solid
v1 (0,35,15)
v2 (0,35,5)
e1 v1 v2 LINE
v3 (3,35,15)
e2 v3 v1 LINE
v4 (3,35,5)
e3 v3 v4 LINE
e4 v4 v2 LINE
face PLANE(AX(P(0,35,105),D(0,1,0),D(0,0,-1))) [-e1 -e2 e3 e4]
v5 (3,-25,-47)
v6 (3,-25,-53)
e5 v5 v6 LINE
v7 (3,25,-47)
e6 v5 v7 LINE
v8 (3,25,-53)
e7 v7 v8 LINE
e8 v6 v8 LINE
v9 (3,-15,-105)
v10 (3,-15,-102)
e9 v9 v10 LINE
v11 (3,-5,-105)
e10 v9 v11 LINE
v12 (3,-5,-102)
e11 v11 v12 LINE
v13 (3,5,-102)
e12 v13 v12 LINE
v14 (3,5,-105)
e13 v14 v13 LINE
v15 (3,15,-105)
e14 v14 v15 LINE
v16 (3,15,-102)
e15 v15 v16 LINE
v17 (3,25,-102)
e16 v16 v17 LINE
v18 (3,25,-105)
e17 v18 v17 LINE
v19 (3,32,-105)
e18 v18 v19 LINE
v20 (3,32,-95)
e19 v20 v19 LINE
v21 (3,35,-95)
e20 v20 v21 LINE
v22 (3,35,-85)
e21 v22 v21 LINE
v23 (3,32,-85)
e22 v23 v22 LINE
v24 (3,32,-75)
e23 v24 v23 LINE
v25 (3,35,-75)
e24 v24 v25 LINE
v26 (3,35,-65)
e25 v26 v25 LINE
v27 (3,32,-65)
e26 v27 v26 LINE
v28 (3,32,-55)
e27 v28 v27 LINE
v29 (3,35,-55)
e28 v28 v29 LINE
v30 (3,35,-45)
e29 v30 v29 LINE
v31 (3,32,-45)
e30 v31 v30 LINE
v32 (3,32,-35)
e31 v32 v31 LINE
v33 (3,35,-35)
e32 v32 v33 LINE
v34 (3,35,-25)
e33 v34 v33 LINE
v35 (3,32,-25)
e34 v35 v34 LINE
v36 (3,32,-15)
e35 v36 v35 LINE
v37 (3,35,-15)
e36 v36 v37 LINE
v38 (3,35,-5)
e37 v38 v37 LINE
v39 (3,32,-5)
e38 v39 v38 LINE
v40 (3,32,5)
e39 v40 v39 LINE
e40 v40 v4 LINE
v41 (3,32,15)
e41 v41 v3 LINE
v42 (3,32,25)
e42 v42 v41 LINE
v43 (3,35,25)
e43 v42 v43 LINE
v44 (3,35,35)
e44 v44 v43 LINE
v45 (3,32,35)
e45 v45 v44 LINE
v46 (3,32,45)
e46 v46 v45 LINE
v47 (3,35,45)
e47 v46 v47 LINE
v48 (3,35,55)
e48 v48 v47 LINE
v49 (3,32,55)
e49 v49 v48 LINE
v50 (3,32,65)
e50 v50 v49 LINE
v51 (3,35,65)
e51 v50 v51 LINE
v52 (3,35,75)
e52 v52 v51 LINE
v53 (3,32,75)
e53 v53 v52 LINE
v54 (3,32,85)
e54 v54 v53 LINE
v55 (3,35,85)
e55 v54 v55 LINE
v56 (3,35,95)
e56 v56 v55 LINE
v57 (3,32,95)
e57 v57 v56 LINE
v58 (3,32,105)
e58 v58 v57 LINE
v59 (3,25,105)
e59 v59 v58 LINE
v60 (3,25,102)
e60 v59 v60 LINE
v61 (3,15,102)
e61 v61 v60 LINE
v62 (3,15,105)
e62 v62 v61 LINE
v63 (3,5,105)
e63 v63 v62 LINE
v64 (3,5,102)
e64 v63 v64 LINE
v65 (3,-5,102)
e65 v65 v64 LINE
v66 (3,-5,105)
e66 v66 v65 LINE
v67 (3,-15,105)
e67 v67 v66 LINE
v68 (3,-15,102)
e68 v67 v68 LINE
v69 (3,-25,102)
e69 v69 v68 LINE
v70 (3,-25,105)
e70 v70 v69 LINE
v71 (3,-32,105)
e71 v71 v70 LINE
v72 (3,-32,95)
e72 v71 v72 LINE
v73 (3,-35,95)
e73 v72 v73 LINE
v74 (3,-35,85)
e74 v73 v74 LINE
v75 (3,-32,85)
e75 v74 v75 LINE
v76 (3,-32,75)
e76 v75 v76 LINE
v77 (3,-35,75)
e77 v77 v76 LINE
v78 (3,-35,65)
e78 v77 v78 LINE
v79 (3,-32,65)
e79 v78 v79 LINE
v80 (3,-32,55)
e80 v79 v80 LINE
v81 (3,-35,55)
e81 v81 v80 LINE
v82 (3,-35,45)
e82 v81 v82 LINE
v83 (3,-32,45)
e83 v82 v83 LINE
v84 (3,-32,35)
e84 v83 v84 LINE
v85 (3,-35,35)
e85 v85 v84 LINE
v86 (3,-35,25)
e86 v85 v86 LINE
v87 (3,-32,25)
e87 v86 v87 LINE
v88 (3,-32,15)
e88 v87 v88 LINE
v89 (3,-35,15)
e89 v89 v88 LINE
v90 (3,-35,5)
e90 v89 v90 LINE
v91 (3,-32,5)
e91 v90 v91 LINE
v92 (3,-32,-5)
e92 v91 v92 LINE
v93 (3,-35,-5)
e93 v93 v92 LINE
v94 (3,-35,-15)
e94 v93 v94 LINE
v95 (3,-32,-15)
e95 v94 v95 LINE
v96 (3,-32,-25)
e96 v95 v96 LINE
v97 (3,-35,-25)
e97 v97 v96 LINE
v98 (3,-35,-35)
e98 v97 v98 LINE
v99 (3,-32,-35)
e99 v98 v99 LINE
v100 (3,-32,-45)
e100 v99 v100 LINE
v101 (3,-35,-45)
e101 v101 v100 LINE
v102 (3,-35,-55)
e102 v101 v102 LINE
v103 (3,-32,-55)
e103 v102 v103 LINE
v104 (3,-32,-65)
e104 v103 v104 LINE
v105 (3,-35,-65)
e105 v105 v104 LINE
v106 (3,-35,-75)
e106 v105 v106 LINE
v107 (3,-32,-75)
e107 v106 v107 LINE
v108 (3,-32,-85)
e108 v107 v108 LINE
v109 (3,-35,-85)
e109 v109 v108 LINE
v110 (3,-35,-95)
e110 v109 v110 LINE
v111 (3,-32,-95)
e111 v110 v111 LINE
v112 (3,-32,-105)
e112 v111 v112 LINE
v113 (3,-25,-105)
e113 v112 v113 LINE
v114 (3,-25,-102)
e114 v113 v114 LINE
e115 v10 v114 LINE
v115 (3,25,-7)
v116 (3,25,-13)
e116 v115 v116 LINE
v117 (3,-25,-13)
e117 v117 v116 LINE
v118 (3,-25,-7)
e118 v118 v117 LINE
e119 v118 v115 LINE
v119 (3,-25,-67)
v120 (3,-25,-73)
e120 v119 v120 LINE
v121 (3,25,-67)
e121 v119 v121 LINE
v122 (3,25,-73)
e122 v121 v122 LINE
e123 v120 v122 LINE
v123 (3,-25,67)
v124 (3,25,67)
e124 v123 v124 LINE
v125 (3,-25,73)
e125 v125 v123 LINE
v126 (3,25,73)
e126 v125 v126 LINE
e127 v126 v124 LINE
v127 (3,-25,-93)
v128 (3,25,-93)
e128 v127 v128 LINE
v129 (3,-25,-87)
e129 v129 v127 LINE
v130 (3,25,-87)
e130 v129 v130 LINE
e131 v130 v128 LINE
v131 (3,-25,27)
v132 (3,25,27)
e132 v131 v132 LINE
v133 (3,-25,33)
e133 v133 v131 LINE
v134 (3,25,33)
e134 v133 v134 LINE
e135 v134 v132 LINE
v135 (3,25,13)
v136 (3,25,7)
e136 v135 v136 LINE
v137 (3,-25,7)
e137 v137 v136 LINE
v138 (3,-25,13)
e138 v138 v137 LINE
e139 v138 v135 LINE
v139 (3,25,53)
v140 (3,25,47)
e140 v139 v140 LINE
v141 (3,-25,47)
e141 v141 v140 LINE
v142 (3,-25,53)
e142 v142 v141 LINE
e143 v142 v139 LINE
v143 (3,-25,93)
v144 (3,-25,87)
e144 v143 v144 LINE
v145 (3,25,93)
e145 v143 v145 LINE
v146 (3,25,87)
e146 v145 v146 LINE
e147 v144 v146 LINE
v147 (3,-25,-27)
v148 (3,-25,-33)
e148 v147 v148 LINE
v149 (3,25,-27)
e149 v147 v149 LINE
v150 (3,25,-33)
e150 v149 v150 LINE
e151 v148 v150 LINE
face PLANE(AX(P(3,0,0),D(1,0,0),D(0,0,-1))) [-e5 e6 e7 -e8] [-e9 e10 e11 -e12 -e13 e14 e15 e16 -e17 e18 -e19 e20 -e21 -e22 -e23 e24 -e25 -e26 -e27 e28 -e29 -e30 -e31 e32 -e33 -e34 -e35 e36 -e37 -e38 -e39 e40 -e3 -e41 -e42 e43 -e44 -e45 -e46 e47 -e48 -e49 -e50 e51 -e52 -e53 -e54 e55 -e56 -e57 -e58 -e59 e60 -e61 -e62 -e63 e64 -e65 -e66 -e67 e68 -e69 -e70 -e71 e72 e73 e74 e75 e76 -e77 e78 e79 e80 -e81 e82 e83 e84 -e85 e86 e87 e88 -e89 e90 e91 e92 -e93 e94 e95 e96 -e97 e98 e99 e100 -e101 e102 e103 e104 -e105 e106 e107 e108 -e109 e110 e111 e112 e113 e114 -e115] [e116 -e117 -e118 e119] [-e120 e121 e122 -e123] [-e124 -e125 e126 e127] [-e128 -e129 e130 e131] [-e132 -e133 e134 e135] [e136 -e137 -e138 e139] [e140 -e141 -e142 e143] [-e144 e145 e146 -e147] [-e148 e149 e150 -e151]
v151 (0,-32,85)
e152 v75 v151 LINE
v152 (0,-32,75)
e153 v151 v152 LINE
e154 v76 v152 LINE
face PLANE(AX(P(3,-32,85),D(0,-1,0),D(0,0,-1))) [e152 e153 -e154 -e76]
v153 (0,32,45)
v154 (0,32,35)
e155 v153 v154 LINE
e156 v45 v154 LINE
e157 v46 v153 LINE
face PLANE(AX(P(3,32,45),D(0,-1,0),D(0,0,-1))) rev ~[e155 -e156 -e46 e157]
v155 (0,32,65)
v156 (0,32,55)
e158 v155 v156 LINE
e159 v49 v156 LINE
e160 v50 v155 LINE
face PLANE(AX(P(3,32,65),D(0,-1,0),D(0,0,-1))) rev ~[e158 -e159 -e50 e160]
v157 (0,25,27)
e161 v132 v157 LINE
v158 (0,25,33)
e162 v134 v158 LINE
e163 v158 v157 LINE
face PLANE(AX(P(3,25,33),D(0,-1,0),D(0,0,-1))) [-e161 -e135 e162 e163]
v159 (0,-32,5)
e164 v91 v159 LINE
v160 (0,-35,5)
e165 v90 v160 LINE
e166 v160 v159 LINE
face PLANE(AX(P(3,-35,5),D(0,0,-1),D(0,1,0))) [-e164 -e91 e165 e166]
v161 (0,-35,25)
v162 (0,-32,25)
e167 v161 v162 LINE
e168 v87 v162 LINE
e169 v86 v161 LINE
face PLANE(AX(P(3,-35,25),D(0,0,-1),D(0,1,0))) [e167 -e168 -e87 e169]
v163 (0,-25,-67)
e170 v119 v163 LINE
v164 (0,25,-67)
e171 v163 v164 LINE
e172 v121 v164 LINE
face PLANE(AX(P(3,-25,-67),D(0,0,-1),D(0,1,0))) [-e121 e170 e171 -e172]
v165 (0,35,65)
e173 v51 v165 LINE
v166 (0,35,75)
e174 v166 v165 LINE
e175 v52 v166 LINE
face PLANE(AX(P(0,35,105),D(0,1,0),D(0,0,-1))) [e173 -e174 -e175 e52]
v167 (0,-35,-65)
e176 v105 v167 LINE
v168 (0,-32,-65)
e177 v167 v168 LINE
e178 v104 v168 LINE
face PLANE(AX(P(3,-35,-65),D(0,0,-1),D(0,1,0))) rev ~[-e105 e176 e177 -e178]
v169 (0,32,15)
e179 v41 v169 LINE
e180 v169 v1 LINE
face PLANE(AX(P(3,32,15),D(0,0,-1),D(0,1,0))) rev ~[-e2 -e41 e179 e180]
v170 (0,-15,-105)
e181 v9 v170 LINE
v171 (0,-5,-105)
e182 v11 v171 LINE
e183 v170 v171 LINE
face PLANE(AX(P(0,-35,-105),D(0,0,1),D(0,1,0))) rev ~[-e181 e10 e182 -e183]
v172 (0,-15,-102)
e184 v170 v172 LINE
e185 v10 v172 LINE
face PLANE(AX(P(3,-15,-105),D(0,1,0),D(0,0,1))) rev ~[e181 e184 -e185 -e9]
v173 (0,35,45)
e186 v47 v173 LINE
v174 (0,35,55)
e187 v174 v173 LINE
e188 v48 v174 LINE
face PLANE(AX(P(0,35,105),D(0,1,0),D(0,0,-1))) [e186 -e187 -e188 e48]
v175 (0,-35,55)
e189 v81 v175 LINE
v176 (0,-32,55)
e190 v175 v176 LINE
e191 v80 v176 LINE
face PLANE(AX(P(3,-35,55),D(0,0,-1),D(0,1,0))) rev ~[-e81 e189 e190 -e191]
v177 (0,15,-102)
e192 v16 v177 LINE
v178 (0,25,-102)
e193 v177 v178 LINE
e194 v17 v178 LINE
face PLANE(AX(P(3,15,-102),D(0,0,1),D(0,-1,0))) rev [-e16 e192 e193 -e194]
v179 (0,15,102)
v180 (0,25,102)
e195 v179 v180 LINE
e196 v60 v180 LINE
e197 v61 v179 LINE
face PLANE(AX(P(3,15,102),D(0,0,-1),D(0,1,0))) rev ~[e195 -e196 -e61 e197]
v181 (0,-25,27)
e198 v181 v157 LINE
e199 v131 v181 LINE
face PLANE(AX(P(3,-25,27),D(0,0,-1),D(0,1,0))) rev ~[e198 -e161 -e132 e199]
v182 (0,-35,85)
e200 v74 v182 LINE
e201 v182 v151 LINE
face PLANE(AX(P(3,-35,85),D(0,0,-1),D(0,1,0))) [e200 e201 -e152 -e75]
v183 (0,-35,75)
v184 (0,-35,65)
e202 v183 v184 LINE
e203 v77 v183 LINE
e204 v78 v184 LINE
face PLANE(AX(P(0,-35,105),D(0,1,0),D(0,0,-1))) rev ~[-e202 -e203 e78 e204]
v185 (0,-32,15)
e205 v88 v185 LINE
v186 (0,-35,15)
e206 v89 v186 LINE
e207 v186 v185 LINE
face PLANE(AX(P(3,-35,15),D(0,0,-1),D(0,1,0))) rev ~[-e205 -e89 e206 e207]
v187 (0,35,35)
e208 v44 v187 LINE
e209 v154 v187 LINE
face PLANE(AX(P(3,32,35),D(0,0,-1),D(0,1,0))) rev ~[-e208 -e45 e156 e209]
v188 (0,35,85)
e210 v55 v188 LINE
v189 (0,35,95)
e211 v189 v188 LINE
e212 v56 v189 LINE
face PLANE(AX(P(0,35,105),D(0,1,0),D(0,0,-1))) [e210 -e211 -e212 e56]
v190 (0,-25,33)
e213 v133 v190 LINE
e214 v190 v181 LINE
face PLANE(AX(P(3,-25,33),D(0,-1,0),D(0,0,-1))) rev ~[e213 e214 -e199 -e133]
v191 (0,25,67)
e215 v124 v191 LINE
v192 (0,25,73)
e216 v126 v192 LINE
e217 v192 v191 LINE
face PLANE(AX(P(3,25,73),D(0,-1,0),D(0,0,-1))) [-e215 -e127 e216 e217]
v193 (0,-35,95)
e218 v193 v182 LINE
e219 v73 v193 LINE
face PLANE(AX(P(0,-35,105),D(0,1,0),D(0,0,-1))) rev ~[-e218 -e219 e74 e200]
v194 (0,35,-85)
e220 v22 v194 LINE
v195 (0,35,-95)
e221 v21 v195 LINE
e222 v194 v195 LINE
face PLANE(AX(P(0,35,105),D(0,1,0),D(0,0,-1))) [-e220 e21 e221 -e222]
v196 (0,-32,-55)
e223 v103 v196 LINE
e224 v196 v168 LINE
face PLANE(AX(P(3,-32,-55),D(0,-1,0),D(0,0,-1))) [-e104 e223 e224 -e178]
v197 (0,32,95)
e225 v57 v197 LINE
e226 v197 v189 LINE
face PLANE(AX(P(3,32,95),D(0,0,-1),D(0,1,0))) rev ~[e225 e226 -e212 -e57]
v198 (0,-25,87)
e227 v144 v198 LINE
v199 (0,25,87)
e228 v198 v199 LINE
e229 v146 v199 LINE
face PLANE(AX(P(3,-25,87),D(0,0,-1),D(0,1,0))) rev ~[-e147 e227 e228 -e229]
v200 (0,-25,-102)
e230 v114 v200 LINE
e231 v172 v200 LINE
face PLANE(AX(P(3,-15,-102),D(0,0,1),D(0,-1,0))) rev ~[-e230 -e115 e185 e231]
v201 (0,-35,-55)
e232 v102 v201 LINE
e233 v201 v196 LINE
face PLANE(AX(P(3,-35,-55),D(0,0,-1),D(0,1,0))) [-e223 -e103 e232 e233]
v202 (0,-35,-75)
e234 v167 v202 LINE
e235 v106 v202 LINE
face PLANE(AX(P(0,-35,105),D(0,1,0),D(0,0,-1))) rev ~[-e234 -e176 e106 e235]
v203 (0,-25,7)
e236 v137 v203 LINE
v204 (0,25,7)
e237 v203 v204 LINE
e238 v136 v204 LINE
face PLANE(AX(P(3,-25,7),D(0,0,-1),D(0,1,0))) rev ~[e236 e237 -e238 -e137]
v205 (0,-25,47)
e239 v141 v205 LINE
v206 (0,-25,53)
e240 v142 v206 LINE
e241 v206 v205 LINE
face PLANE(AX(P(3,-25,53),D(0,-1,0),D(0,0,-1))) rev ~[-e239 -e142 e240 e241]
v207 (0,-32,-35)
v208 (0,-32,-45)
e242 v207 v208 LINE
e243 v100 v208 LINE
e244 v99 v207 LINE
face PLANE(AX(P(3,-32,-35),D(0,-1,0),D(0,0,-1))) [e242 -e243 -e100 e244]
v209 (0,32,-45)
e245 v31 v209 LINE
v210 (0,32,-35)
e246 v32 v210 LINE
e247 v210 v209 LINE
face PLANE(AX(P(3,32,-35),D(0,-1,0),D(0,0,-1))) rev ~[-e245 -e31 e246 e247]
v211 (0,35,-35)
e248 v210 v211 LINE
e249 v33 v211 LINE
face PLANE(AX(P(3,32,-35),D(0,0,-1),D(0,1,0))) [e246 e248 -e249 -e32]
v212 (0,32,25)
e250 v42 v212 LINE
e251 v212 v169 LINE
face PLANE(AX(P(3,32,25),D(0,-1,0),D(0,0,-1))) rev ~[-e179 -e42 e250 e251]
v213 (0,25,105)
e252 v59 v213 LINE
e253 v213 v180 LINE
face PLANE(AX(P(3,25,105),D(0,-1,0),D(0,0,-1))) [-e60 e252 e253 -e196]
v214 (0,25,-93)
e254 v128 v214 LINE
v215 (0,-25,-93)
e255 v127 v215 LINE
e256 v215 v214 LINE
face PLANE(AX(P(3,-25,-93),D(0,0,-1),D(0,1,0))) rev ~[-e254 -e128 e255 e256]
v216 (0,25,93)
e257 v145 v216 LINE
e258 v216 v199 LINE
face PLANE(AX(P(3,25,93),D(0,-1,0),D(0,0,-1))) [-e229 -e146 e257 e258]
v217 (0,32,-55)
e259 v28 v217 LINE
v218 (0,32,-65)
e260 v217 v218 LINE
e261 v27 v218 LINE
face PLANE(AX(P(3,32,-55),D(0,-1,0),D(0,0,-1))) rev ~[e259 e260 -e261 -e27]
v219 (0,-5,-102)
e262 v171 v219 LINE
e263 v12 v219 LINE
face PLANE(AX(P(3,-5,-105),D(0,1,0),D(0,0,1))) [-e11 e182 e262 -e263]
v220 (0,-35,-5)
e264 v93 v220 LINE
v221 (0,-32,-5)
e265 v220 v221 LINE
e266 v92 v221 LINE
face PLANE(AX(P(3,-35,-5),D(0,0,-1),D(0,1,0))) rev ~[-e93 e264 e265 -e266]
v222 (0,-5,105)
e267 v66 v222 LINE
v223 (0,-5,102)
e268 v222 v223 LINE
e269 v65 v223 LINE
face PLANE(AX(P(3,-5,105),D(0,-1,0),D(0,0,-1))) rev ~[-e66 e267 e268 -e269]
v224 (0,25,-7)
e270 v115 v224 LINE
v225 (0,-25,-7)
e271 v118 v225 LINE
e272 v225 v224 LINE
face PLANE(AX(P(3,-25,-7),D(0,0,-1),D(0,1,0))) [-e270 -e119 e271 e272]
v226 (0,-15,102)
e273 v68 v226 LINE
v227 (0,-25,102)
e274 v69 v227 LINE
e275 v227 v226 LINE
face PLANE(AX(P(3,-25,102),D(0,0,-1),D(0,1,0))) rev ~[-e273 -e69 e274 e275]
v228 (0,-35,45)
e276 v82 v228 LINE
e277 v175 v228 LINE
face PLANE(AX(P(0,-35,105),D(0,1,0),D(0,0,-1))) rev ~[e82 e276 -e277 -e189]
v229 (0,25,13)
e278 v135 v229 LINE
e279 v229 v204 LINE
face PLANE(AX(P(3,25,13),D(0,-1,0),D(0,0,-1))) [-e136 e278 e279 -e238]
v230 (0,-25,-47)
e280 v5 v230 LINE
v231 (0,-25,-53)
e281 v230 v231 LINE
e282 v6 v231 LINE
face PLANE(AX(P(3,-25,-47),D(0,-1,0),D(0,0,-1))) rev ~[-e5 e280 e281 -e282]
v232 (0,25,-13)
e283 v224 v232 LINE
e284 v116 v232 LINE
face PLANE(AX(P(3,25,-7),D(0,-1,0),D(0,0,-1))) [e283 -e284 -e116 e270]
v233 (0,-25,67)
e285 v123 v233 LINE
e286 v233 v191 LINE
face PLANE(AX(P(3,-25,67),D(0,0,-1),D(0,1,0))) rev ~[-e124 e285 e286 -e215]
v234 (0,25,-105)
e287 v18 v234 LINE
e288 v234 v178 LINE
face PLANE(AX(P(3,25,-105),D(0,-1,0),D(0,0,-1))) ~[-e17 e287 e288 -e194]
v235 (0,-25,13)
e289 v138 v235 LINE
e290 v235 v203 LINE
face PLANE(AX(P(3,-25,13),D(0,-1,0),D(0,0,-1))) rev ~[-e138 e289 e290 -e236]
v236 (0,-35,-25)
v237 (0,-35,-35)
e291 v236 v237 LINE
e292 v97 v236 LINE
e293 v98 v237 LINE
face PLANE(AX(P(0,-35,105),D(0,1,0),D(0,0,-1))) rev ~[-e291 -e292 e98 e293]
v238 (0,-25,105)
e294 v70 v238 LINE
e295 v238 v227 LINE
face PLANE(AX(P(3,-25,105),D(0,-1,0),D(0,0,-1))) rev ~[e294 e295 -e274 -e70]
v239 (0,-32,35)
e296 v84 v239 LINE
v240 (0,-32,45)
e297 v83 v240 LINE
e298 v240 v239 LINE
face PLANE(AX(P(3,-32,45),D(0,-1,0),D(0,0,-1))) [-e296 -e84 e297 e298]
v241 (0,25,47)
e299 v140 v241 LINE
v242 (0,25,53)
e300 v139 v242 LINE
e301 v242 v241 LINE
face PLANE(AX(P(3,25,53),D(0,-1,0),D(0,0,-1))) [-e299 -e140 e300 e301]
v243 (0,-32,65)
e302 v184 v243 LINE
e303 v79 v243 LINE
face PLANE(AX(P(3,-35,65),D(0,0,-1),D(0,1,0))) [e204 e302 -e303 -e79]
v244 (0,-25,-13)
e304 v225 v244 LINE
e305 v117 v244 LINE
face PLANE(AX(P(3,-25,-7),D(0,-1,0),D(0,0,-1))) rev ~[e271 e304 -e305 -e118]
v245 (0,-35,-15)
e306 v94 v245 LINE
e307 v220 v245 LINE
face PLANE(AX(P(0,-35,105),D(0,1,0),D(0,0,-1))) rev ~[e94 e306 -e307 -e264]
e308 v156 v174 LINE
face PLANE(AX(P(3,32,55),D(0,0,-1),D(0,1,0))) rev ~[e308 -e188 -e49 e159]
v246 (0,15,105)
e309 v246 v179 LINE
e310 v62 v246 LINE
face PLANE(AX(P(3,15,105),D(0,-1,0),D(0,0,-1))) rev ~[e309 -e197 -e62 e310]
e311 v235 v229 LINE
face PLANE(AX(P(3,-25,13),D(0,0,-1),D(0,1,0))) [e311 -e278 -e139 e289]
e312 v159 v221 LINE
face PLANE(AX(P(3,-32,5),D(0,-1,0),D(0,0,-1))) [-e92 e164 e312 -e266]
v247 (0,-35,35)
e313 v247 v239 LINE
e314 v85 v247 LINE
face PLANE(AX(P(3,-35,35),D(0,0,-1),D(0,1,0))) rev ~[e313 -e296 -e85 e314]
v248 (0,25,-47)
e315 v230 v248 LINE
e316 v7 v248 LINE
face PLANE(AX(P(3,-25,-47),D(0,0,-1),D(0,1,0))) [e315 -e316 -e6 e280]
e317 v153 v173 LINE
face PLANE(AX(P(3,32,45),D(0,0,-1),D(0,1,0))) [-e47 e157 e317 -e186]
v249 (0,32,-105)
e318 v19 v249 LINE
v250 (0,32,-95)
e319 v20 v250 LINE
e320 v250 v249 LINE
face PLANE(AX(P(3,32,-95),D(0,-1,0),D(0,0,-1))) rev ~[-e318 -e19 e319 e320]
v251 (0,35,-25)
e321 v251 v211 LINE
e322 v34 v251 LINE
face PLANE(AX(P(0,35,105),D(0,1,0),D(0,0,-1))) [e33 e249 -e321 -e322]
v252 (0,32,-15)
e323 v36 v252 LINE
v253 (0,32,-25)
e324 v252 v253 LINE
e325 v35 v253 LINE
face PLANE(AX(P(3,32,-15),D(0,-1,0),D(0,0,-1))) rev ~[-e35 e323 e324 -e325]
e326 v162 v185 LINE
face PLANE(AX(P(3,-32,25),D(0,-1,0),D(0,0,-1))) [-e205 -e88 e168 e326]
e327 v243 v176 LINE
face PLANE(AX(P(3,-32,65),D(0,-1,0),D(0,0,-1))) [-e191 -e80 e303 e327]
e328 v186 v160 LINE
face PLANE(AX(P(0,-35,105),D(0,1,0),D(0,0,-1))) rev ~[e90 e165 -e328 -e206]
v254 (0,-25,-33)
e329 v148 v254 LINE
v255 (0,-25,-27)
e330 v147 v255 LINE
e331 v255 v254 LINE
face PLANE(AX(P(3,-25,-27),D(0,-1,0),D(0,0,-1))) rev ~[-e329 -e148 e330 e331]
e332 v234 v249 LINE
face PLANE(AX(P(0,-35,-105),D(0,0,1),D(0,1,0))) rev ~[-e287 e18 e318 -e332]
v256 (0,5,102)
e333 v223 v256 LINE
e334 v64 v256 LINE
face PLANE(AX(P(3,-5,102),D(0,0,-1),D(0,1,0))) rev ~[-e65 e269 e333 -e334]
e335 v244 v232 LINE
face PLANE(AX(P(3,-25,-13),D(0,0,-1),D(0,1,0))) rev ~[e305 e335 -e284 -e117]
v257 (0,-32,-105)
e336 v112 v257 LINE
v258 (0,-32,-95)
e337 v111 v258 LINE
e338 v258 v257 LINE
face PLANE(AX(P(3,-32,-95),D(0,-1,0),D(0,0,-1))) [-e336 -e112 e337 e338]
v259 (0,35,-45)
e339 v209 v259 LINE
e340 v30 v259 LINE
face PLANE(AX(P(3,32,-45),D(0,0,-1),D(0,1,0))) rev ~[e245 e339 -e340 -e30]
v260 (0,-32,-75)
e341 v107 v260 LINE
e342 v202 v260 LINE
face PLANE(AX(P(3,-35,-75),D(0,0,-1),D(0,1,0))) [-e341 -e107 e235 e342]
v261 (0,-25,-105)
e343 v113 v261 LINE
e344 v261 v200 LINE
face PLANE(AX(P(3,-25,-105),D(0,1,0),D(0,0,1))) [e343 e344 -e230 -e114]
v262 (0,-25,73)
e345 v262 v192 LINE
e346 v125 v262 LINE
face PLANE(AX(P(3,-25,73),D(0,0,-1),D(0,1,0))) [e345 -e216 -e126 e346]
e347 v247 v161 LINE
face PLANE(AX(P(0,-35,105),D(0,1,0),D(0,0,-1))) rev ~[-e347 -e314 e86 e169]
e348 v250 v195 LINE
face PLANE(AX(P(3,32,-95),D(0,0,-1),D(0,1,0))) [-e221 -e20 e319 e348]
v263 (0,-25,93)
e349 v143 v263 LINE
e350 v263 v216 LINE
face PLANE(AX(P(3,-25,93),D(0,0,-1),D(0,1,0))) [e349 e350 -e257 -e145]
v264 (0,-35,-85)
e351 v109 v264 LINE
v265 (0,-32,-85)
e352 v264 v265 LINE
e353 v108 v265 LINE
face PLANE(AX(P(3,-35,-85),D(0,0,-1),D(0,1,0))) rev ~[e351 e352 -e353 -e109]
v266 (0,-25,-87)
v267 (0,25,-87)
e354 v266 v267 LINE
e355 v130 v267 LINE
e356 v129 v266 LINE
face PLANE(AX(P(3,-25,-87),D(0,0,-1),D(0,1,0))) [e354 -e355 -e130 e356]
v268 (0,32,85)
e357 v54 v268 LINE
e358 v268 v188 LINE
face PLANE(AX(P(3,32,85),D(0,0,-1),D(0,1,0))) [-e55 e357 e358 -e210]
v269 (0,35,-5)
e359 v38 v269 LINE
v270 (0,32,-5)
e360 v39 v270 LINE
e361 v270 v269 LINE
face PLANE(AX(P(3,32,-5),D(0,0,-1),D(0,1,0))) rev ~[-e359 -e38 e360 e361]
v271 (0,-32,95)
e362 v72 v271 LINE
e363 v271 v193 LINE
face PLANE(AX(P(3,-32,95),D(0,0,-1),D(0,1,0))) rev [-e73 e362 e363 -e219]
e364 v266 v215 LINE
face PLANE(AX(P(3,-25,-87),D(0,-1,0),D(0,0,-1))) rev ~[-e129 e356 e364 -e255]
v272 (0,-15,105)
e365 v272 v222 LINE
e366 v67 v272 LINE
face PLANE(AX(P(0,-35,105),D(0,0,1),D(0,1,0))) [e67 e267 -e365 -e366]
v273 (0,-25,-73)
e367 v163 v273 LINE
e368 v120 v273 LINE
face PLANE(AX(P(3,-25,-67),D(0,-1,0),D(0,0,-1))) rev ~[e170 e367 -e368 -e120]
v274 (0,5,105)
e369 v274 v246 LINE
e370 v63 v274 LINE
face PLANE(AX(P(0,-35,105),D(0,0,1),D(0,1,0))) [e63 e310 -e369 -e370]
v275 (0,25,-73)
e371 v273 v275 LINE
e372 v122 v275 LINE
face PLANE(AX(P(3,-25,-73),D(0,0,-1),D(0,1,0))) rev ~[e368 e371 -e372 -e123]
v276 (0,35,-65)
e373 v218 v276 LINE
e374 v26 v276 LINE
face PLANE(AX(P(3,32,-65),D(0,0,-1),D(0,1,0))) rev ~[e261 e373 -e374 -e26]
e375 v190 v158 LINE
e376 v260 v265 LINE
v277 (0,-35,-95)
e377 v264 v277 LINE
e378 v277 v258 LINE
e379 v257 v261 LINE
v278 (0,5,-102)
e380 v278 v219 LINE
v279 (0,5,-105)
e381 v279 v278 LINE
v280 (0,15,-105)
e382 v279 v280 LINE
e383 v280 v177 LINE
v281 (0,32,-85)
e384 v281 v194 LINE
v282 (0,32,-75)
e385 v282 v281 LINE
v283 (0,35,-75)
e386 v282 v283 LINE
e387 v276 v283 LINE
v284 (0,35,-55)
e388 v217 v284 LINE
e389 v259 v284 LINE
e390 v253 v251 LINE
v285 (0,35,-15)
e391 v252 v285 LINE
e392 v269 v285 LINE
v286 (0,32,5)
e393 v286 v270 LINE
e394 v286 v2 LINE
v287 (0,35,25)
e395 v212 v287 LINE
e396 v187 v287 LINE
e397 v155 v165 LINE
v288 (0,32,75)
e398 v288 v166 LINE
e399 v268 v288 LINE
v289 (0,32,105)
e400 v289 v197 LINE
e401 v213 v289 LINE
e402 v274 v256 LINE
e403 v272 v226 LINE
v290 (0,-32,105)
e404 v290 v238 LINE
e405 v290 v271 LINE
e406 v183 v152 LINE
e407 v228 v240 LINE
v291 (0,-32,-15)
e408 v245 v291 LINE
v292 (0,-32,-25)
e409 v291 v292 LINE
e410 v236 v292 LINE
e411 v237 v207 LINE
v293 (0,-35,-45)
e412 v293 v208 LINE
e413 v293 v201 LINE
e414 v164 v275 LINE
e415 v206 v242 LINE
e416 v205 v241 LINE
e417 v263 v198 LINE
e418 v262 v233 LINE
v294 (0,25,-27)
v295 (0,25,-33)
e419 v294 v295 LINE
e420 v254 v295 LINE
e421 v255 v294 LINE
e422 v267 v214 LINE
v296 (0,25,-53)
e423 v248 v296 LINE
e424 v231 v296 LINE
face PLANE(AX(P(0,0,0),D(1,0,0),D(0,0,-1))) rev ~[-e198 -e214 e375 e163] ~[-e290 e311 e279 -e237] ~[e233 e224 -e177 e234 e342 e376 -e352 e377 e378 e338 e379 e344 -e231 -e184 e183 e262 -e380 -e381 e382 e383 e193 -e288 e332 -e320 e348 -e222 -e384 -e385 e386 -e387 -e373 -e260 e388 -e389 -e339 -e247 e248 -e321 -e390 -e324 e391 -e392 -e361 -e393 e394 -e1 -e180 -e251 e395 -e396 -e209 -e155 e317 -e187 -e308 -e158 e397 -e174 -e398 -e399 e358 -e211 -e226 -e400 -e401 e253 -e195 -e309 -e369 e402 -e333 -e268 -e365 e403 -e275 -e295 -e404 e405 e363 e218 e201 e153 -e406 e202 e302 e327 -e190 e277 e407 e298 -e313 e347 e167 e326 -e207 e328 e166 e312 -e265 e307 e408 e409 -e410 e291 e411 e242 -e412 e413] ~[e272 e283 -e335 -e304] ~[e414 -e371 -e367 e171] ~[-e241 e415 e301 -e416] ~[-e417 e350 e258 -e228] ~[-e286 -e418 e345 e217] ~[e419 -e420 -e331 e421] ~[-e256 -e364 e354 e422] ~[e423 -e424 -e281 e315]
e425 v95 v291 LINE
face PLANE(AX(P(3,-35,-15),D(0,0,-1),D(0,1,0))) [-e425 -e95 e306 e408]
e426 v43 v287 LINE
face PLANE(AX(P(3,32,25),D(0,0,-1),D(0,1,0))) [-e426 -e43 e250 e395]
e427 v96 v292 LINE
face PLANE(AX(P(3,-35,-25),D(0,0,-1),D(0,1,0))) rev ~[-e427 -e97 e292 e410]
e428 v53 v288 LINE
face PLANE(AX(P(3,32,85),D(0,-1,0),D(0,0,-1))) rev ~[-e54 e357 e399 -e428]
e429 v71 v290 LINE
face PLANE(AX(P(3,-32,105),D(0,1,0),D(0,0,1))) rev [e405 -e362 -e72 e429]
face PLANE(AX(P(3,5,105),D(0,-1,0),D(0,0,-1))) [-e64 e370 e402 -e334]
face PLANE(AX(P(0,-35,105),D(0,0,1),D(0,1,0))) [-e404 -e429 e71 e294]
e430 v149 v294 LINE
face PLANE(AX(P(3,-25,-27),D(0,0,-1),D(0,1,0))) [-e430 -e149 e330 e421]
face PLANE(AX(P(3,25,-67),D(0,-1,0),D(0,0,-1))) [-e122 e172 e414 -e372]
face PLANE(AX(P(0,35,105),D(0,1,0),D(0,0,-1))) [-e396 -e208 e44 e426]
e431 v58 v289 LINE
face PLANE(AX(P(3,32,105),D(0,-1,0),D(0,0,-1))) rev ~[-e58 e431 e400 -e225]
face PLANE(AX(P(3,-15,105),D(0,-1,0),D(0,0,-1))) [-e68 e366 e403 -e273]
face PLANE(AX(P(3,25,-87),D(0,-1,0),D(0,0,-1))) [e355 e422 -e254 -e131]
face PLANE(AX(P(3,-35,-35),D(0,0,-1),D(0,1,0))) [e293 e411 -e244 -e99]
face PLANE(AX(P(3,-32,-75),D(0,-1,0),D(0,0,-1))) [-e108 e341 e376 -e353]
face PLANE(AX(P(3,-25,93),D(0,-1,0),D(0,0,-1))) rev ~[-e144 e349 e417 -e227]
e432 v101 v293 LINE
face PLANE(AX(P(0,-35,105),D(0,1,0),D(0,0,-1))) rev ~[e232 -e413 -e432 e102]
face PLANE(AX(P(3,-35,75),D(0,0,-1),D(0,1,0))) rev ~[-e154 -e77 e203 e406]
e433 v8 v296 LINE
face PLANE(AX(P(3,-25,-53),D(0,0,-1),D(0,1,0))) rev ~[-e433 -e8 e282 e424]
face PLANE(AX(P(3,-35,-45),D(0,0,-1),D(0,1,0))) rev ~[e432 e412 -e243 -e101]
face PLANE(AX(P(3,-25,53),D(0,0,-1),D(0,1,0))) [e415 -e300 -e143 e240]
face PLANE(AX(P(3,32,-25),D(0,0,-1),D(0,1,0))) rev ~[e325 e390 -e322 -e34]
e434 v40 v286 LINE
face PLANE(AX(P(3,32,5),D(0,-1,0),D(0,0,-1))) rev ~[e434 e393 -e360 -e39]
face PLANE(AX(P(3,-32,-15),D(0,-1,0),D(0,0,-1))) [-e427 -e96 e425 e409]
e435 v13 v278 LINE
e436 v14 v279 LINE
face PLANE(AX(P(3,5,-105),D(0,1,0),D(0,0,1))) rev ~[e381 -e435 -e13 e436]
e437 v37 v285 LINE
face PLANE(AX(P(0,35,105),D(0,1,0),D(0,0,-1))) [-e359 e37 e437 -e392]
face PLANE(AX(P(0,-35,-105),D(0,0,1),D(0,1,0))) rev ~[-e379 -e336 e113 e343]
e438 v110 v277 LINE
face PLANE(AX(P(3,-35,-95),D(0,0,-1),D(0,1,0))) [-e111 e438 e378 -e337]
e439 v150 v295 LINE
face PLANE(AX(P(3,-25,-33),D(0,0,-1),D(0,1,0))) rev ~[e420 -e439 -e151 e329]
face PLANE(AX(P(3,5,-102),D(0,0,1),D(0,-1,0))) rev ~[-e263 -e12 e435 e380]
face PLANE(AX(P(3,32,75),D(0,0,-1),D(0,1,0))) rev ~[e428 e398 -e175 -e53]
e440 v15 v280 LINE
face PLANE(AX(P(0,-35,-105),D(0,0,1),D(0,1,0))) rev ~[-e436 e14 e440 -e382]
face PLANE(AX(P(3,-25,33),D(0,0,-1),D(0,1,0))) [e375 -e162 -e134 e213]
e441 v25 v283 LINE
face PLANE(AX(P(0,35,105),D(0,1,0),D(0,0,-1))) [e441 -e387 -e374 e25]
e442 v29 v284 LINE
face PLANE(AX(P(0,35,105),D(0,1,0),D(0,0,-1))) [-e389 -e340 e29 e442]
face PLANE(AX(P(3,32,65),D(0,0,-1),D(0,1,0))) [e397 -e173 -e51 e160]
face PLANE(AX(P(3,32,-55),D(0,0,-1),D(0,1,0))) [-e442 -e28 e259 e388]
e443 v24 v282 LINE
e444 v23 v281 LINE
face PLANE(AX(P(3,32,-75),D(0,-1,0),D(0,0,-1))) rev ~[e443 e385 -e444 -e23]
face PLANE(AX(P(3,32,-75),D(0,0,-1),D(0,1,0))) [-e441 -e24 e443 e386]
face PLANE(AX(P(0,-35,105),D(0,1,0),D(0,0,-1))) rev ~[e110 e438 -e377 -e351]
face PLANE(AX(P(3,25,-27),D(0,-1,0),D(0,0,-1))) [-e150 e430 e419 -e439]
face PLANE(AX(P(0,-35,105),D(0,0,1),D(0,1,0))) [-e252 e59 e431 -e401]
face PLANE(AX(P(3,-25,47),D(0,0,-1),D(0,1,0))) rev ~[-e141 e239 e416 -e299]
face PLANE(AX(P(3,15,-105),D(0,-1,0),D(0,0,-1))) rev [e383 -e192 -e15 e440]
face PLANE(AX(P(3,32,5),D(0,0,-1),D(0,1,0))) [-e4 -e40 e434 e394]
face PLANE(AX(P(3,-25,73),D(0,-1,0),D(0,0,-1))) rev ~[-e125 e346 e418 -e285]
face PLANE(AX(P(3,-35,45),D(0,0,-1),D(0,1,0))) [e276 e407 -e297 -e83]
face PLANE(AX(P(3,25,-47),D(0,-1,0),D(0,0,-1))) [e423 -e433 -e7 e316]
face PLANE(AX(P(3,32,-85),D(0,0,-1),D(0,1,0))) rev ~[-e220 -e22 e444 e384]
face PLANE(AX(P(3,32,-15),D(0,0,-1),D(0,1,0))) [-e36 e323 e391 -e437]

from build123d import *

# Parameters (mm, degrees)
SKETCH1_W                = 210
SKETCH1_H                = 70
BOSS_EXTRUDE1_DEPTH      = 3
SKETCH2_W                = 10
SKETCH2_H                = 3
CUT_EXTRUDE1_DEPTH       = 3
LPATTERN1_COUNT          = 11
LPATTERN1_PITCH          = 20
MIRROR1_COPY_1_SKETCH_W  = 10
MIRROR1_COPY_1_SKETCH_H  = 3
MIRROR1_COPY_1_DEPTH     = 3
MIRROR1_COPY_2_SKETCH_W  = 10
MIRROR1_COPY_2_SKETCH_H  = 3
MIRROR1_COPY_2_DEPTH     = 3
MIRROR1_COPY_3_SKETCH_W  = 10
MIRROR1_COPY_3_SKETCH_H  = 3
MIRROR1_COPY_3_DEPTH     = 3
MIRROR1_COPY_4_SKETCH_W  = 10
MIRROR1_COPY_4_SKETCH_H  = 3
MIRROR1_COPY_4_DEPTH     = 3
MIRROR1_COPY_5_SKETCH_W  = 10
MIRROR1_COPY_5_SKETCH_H  = 3
MIRROR1_COPY_5_DEPTH     = 3
MIRROR1_COPY_6_SKETCH_W  = 10
MIRROR1_COPY_6_SKETCH_H  = 3
MIRROR1_COPY_6_DEPTH     = 3
MIRROR1_COPY_7_SKETCH_W  = 10
MIRROR1_COPY_7_SKETCH_H  = 3
MIRROR1_COPY_7_DEPTH     = 3
MIRROR1_COPY_8_SKETCH_W  = 10
MIRROR1_COPY_8_SKETCH_H  = 3
MIRROR1_COPY_8_DEPTH     = 3
MIRROR1_COPY_9_SKETCH_W  = 10
MIRROR1_COPY_9_SKETCH_H  = 3
MIRROR1_COPY_9_DEPTH     = 3
MIRROR1_COPY_10_SKETCH_W = 10
MIRROR1_COPY_10_SKETCH_H = 3
MIRROR1_COPY_10_DEPTH    = 3
SKETCH3_W                = 3
SKETCH3_H                = 10
CUT_EXTRUDE2_DEPTH       = 3
LPATTERN2_COUNT          = 3
LPATTERN2_PITCH          = 20
MIRROR2_COPY_1_SKETCH_W  = 3
MIRROR2_COPY_1_SKETCH_H  = 10
MIRROR2_COPY_1_DEPTH     = 3
MIRROR2_COPY_2_SKETCH_W  = 3
MIRROR2_COPY_2_SKETCH_H  = 10
MIRROR2_COPY_2_DEPTH     = 3
SKETCH4_W                = 6
SKETCH4_H                = 50
CUT_EXTRUDE3_DEPTH       = 3
LPATTERN3_COUNT          = 10
LPATTERN3_PITCH          = 20


with BuildPart() as part:
    # Sketch1 → Boss-Extrude1 (new body)
    with BuildSketch(Plane(origin=(0, 0, 0), x_dir=(0, 0, -1), z_dir=(1, 0, 0))):
        Rectangle(SKETCH1_W, SKETCH1_H)
    extrude(amount=BOSS_EXTRUDE1_DEPTH)

    # Sketch2 → Cut-Extrude1 (cut)
    with BuildSketch(Plane(origin=(3, 0, 0), x_dir=(0, 0, -1), z_dir=(1, 0, 0))):
        with Locations((-100, 33.5)):
            Rectangle(SKETCH2_W, SKETCH2_H)
    cut_extrude1 = extrude(amount=-CUT_EXTRUDE1_DEPTH, mode=Mode.SUBTRACT)

    # LPattern1: Cut-Extrude1 ×11
    with Locations(*[(0, 0, -i * LPATTERN1_PITCH) for i in range(1, LPATTERN1_COUNT)]):
        add(cut_extrude1, mode=Mode.SUBTRACT)

    # Mirror1: Cut-Extrude1 across plane
    add(cut_extrude1.mirror(Plane.ZX), mode=Mode.SUBTRACT)

    # Mirror1 copy 1 sketch → Mirror1 copy 1 (cut)
    with BuildSketch(Plane(origin=(3, 0, -20), x_dir=(0, 0, -1), z_dir=(1, 0, 0))):
        with Locations((-100, -33.5)):
            Rectangle(MIRROR1_COPY_1_SKETCH_W, MIRROR1_COPY_1_SKETCH_H)
    extrude(amount=-MIRROR1_COPY_1_DEPTH, mode=Mode.SUBTRACT)

    # Mirror1 copy 2 sketch → Mirror1 copy 2 (cut)
    with BuildSketch(Plane(origin=(3, 0, -40), x_dir=(0, 0, -1), z_dir=(1, 0, 0))):
        with Locations((-100, -33.5)):
            Rectangle(MIRROR1_COPY_2_SKETCH_W, MIRROR1_COPY_2_SKETCH_H)
    extrude(amount=-MIRROR1_COPY_2_DEPTH, mode=Mode.SUBTRACT)

    # Mirror1 copy 3 sketch → Mirror1 copy 3 (cut)
    with BuildSketch(Plane(origin=(3, 0, -60), x_dir=(0, 0, -1), z_dir=(1, 0, 0))):
        with Locations((-100, -33.5)):
            Rectangle(MIRROR1_COPY_3_SKETCH_W, MIRROR1_COPY_3_SKETCH_H)
    extrude(amount=-MIRROR1_COPY_3_DEPTH, mode=Mode.SUBTRACT)

    # Mirror1 copy 4 sketch → Mirror1 copy 4 (cut)
    with BuildSketch(Plane(origin=(3, 0, -80), x_dir=(0, 0, -1), z_dir=(1, 0, 0))):
        with Locations((-100, -33.5)):
            Rectangle(MIRROR1_COPY_4_SKETCH_W, MIRROR1_COPY_4_SKETCH_H)
    extrude(amount=-MIRROR1_COPY_4_DEPTH, mode=Mode.SUBTRACT)

    # Mirror1 copy 5 sketch → Mirror1 copy 5 (cut)
    with BuildSketch(Plane(origin=(3, 0, -100), x_dir=(0, 0, -1), z_dir=(1, 0, 0))):
        with Locations((-100, -33.5)):
            Rectangle(MIRROR1_COPY_5_SKETCH_W, MIRROR1_COPY_5_SKETCH_H)
    extrude(amount=-MIRROR1_COPY_5_DEPTH, mode=Mode.SUBTRACT)

    # Mirror1 copy 6 sketch → Mirror1 copy 6 (cut)
    with BuildSketch(Plane(origin=(3, 0, -120), x_dir=(0, 0, -1), z_dir=(1, 0, 0))):
        with Locations((-100, -33.5)):
            Rectangle(MIRROR1_COPY_6_SKETCH_W, MIRROR1_COPY_6_SKETCH_H)
    extrude(amount=-MIRROR1_COPY_6_DEPTH, mode=Mode.SUBTRACT)

    # Mirror1 copy 7 sketch → Mirror1 copy 7 (cut)
    with BuildSketch(Plane(origin=(3, 0, -140), x_dir=(0, 0, -1), z_dir=(1, 0, 0))):
        with Locations((-100, -33.5)):
            Rectangle(MIRROR1_COPY_7_SKETCH_W, MIRROR1_COPY_7_SKETCH_H)
    extrude(amount=-MIRROR1_COPY_7_DEPTH, mode=Mode.SUBTRACT)

    # Mirror1 copy 8 sketch → Mirror1 copy 8 (cut)
    with BuildSketch(Plane(origin=(3, 0, -160), x_dir=(0, 0, -1), z_dir=(1, 0, 0))):
        with Locations((-100, -33.5)):
            Rectangle(MIRROR1_COPY_8_SKETCH_W, MIRROR1_COPY_8_SKETCH_H)
    extrude(amount=-MIRROR1_COPY_8_DEPTH, mode=Mode.SUBTRACT)

    # Mirror1 copy 9 sketch → Mirror1 copy 9 (cut)
    with BuildSketch(Plane(origin=(3, 0, -180), x_dir=(0, 0, -1), z_dir=(1, 0, 0))):
        with Locations((-100, -33.5)):
            Rectangle(MIRROR1_COPY_9_SKETCH_W, MIRROR1_COPY_9_SKETCH_H)
    extrude(amount=-MIRROR1_COPY_9_DEPTH, mode=Mode.SUBTRACT)

    # Mirror1 copy 10 sketch → Mirror1 copy 10 (cut)
    with BuildSketch(Plane(origin=(3, 0, -200), x_dir=(0, 0, -1), z_dir=(1, 0, 0))):
        with Locations((-100, -33.5)):
            Rectangle(MIRROR1_COPY_10_SKETCH_W, MIRROR1_COPY_10_SKETCH_H)
    extrude(amount=-MIRROR1_COPY_10_DEPTH, mode=Mode.SUBTRACT)

    # Sketch3 → Cut-Extrude2 (cut)
    with BuildSketch(Plane(origin=(3, 0, 0), x_dir=(0, 0, -1), z_dir=(1, 0, 0))):
        with Locations((-103.5, 20)):
            Rectangle(SKETCH3_W, SKETCH3_H)
    cut_extrude2 = extrude(amount=-CUT_EXTRUDE2_DEPTH, mode=Mode.SUBTRACT)

    # LPattern2: Cut-Extrude2 ×3
    with Locations(*[(0, -i * LPATTERN2_PITCH, 0) for i in range(1, LPATTERN2_COUNT)]):
        add(cut_extrude2, mode=Mode.SUBTRACT)

    # Mirror2: Cut-Extrude2 across plane
    add(cut_extrude2.mirror(Plane.XY), mode=Mode.SUBTRACT)

    # Mirror2 copy 1 sketch → Mirror2 copy 1 (cut)
    with BuildSketch(Plane(origin=(3, -20, 0), x_dir=(0, 0, 1), z_dir=(1, 0, 0))):
        with Locations((-103.5, -20)):
            Rectangle(MIRROR2_COPY_1_SKETCH_W, MIRROR2_COPY_1_SKETCH_H)
    extrude(amount=-MIRROR2_COPY_1_DEPTH, mode=Mode.SUBTRACT)

    # Mirror2 copy 2 sketch → Mirror2 copy 2 (cut)
    with BuildSketch(Plane(origin=(3, -40, 0), x_dir=(0, 0, 1), z_dir=(1, 0, 0))):
        with Locations((-103.5, -20)):
            Rectangle(MIRROR2_COPY_2_SKETCH_W, MIRROR2_COPY_2_SKETCH_H)
    extrude(amount=-MIRROR2_COPY_2_DEPTH, mode=Mode.SUBTRACT)

    # Sketch4 → Cut-Extrude3 (cut)
    with BuildSketch(Plane(origin=(3, 0, 0), x_dir=(0, 0, -1), z_dir=(1, 0, 0))):
        with Locations((-90, 0)):
            Rectangle(SKETCH4_W, SKETCH4_H)
    cut_extrude3 = extrude(amount=-CUT_EXTRUDE3_DEPTH, mode=Mode.SUBTRACT)

    # LPattern3: Cut-Extrude3 ×10
    with Locations(*[(0, 0, -i * LPATTERN3_PITCH) for i in range(1, LPATTERN3_COUNT)]):
        add(cut_extrude3, mode=Mode.SUBTRACT)


solid = part.part
